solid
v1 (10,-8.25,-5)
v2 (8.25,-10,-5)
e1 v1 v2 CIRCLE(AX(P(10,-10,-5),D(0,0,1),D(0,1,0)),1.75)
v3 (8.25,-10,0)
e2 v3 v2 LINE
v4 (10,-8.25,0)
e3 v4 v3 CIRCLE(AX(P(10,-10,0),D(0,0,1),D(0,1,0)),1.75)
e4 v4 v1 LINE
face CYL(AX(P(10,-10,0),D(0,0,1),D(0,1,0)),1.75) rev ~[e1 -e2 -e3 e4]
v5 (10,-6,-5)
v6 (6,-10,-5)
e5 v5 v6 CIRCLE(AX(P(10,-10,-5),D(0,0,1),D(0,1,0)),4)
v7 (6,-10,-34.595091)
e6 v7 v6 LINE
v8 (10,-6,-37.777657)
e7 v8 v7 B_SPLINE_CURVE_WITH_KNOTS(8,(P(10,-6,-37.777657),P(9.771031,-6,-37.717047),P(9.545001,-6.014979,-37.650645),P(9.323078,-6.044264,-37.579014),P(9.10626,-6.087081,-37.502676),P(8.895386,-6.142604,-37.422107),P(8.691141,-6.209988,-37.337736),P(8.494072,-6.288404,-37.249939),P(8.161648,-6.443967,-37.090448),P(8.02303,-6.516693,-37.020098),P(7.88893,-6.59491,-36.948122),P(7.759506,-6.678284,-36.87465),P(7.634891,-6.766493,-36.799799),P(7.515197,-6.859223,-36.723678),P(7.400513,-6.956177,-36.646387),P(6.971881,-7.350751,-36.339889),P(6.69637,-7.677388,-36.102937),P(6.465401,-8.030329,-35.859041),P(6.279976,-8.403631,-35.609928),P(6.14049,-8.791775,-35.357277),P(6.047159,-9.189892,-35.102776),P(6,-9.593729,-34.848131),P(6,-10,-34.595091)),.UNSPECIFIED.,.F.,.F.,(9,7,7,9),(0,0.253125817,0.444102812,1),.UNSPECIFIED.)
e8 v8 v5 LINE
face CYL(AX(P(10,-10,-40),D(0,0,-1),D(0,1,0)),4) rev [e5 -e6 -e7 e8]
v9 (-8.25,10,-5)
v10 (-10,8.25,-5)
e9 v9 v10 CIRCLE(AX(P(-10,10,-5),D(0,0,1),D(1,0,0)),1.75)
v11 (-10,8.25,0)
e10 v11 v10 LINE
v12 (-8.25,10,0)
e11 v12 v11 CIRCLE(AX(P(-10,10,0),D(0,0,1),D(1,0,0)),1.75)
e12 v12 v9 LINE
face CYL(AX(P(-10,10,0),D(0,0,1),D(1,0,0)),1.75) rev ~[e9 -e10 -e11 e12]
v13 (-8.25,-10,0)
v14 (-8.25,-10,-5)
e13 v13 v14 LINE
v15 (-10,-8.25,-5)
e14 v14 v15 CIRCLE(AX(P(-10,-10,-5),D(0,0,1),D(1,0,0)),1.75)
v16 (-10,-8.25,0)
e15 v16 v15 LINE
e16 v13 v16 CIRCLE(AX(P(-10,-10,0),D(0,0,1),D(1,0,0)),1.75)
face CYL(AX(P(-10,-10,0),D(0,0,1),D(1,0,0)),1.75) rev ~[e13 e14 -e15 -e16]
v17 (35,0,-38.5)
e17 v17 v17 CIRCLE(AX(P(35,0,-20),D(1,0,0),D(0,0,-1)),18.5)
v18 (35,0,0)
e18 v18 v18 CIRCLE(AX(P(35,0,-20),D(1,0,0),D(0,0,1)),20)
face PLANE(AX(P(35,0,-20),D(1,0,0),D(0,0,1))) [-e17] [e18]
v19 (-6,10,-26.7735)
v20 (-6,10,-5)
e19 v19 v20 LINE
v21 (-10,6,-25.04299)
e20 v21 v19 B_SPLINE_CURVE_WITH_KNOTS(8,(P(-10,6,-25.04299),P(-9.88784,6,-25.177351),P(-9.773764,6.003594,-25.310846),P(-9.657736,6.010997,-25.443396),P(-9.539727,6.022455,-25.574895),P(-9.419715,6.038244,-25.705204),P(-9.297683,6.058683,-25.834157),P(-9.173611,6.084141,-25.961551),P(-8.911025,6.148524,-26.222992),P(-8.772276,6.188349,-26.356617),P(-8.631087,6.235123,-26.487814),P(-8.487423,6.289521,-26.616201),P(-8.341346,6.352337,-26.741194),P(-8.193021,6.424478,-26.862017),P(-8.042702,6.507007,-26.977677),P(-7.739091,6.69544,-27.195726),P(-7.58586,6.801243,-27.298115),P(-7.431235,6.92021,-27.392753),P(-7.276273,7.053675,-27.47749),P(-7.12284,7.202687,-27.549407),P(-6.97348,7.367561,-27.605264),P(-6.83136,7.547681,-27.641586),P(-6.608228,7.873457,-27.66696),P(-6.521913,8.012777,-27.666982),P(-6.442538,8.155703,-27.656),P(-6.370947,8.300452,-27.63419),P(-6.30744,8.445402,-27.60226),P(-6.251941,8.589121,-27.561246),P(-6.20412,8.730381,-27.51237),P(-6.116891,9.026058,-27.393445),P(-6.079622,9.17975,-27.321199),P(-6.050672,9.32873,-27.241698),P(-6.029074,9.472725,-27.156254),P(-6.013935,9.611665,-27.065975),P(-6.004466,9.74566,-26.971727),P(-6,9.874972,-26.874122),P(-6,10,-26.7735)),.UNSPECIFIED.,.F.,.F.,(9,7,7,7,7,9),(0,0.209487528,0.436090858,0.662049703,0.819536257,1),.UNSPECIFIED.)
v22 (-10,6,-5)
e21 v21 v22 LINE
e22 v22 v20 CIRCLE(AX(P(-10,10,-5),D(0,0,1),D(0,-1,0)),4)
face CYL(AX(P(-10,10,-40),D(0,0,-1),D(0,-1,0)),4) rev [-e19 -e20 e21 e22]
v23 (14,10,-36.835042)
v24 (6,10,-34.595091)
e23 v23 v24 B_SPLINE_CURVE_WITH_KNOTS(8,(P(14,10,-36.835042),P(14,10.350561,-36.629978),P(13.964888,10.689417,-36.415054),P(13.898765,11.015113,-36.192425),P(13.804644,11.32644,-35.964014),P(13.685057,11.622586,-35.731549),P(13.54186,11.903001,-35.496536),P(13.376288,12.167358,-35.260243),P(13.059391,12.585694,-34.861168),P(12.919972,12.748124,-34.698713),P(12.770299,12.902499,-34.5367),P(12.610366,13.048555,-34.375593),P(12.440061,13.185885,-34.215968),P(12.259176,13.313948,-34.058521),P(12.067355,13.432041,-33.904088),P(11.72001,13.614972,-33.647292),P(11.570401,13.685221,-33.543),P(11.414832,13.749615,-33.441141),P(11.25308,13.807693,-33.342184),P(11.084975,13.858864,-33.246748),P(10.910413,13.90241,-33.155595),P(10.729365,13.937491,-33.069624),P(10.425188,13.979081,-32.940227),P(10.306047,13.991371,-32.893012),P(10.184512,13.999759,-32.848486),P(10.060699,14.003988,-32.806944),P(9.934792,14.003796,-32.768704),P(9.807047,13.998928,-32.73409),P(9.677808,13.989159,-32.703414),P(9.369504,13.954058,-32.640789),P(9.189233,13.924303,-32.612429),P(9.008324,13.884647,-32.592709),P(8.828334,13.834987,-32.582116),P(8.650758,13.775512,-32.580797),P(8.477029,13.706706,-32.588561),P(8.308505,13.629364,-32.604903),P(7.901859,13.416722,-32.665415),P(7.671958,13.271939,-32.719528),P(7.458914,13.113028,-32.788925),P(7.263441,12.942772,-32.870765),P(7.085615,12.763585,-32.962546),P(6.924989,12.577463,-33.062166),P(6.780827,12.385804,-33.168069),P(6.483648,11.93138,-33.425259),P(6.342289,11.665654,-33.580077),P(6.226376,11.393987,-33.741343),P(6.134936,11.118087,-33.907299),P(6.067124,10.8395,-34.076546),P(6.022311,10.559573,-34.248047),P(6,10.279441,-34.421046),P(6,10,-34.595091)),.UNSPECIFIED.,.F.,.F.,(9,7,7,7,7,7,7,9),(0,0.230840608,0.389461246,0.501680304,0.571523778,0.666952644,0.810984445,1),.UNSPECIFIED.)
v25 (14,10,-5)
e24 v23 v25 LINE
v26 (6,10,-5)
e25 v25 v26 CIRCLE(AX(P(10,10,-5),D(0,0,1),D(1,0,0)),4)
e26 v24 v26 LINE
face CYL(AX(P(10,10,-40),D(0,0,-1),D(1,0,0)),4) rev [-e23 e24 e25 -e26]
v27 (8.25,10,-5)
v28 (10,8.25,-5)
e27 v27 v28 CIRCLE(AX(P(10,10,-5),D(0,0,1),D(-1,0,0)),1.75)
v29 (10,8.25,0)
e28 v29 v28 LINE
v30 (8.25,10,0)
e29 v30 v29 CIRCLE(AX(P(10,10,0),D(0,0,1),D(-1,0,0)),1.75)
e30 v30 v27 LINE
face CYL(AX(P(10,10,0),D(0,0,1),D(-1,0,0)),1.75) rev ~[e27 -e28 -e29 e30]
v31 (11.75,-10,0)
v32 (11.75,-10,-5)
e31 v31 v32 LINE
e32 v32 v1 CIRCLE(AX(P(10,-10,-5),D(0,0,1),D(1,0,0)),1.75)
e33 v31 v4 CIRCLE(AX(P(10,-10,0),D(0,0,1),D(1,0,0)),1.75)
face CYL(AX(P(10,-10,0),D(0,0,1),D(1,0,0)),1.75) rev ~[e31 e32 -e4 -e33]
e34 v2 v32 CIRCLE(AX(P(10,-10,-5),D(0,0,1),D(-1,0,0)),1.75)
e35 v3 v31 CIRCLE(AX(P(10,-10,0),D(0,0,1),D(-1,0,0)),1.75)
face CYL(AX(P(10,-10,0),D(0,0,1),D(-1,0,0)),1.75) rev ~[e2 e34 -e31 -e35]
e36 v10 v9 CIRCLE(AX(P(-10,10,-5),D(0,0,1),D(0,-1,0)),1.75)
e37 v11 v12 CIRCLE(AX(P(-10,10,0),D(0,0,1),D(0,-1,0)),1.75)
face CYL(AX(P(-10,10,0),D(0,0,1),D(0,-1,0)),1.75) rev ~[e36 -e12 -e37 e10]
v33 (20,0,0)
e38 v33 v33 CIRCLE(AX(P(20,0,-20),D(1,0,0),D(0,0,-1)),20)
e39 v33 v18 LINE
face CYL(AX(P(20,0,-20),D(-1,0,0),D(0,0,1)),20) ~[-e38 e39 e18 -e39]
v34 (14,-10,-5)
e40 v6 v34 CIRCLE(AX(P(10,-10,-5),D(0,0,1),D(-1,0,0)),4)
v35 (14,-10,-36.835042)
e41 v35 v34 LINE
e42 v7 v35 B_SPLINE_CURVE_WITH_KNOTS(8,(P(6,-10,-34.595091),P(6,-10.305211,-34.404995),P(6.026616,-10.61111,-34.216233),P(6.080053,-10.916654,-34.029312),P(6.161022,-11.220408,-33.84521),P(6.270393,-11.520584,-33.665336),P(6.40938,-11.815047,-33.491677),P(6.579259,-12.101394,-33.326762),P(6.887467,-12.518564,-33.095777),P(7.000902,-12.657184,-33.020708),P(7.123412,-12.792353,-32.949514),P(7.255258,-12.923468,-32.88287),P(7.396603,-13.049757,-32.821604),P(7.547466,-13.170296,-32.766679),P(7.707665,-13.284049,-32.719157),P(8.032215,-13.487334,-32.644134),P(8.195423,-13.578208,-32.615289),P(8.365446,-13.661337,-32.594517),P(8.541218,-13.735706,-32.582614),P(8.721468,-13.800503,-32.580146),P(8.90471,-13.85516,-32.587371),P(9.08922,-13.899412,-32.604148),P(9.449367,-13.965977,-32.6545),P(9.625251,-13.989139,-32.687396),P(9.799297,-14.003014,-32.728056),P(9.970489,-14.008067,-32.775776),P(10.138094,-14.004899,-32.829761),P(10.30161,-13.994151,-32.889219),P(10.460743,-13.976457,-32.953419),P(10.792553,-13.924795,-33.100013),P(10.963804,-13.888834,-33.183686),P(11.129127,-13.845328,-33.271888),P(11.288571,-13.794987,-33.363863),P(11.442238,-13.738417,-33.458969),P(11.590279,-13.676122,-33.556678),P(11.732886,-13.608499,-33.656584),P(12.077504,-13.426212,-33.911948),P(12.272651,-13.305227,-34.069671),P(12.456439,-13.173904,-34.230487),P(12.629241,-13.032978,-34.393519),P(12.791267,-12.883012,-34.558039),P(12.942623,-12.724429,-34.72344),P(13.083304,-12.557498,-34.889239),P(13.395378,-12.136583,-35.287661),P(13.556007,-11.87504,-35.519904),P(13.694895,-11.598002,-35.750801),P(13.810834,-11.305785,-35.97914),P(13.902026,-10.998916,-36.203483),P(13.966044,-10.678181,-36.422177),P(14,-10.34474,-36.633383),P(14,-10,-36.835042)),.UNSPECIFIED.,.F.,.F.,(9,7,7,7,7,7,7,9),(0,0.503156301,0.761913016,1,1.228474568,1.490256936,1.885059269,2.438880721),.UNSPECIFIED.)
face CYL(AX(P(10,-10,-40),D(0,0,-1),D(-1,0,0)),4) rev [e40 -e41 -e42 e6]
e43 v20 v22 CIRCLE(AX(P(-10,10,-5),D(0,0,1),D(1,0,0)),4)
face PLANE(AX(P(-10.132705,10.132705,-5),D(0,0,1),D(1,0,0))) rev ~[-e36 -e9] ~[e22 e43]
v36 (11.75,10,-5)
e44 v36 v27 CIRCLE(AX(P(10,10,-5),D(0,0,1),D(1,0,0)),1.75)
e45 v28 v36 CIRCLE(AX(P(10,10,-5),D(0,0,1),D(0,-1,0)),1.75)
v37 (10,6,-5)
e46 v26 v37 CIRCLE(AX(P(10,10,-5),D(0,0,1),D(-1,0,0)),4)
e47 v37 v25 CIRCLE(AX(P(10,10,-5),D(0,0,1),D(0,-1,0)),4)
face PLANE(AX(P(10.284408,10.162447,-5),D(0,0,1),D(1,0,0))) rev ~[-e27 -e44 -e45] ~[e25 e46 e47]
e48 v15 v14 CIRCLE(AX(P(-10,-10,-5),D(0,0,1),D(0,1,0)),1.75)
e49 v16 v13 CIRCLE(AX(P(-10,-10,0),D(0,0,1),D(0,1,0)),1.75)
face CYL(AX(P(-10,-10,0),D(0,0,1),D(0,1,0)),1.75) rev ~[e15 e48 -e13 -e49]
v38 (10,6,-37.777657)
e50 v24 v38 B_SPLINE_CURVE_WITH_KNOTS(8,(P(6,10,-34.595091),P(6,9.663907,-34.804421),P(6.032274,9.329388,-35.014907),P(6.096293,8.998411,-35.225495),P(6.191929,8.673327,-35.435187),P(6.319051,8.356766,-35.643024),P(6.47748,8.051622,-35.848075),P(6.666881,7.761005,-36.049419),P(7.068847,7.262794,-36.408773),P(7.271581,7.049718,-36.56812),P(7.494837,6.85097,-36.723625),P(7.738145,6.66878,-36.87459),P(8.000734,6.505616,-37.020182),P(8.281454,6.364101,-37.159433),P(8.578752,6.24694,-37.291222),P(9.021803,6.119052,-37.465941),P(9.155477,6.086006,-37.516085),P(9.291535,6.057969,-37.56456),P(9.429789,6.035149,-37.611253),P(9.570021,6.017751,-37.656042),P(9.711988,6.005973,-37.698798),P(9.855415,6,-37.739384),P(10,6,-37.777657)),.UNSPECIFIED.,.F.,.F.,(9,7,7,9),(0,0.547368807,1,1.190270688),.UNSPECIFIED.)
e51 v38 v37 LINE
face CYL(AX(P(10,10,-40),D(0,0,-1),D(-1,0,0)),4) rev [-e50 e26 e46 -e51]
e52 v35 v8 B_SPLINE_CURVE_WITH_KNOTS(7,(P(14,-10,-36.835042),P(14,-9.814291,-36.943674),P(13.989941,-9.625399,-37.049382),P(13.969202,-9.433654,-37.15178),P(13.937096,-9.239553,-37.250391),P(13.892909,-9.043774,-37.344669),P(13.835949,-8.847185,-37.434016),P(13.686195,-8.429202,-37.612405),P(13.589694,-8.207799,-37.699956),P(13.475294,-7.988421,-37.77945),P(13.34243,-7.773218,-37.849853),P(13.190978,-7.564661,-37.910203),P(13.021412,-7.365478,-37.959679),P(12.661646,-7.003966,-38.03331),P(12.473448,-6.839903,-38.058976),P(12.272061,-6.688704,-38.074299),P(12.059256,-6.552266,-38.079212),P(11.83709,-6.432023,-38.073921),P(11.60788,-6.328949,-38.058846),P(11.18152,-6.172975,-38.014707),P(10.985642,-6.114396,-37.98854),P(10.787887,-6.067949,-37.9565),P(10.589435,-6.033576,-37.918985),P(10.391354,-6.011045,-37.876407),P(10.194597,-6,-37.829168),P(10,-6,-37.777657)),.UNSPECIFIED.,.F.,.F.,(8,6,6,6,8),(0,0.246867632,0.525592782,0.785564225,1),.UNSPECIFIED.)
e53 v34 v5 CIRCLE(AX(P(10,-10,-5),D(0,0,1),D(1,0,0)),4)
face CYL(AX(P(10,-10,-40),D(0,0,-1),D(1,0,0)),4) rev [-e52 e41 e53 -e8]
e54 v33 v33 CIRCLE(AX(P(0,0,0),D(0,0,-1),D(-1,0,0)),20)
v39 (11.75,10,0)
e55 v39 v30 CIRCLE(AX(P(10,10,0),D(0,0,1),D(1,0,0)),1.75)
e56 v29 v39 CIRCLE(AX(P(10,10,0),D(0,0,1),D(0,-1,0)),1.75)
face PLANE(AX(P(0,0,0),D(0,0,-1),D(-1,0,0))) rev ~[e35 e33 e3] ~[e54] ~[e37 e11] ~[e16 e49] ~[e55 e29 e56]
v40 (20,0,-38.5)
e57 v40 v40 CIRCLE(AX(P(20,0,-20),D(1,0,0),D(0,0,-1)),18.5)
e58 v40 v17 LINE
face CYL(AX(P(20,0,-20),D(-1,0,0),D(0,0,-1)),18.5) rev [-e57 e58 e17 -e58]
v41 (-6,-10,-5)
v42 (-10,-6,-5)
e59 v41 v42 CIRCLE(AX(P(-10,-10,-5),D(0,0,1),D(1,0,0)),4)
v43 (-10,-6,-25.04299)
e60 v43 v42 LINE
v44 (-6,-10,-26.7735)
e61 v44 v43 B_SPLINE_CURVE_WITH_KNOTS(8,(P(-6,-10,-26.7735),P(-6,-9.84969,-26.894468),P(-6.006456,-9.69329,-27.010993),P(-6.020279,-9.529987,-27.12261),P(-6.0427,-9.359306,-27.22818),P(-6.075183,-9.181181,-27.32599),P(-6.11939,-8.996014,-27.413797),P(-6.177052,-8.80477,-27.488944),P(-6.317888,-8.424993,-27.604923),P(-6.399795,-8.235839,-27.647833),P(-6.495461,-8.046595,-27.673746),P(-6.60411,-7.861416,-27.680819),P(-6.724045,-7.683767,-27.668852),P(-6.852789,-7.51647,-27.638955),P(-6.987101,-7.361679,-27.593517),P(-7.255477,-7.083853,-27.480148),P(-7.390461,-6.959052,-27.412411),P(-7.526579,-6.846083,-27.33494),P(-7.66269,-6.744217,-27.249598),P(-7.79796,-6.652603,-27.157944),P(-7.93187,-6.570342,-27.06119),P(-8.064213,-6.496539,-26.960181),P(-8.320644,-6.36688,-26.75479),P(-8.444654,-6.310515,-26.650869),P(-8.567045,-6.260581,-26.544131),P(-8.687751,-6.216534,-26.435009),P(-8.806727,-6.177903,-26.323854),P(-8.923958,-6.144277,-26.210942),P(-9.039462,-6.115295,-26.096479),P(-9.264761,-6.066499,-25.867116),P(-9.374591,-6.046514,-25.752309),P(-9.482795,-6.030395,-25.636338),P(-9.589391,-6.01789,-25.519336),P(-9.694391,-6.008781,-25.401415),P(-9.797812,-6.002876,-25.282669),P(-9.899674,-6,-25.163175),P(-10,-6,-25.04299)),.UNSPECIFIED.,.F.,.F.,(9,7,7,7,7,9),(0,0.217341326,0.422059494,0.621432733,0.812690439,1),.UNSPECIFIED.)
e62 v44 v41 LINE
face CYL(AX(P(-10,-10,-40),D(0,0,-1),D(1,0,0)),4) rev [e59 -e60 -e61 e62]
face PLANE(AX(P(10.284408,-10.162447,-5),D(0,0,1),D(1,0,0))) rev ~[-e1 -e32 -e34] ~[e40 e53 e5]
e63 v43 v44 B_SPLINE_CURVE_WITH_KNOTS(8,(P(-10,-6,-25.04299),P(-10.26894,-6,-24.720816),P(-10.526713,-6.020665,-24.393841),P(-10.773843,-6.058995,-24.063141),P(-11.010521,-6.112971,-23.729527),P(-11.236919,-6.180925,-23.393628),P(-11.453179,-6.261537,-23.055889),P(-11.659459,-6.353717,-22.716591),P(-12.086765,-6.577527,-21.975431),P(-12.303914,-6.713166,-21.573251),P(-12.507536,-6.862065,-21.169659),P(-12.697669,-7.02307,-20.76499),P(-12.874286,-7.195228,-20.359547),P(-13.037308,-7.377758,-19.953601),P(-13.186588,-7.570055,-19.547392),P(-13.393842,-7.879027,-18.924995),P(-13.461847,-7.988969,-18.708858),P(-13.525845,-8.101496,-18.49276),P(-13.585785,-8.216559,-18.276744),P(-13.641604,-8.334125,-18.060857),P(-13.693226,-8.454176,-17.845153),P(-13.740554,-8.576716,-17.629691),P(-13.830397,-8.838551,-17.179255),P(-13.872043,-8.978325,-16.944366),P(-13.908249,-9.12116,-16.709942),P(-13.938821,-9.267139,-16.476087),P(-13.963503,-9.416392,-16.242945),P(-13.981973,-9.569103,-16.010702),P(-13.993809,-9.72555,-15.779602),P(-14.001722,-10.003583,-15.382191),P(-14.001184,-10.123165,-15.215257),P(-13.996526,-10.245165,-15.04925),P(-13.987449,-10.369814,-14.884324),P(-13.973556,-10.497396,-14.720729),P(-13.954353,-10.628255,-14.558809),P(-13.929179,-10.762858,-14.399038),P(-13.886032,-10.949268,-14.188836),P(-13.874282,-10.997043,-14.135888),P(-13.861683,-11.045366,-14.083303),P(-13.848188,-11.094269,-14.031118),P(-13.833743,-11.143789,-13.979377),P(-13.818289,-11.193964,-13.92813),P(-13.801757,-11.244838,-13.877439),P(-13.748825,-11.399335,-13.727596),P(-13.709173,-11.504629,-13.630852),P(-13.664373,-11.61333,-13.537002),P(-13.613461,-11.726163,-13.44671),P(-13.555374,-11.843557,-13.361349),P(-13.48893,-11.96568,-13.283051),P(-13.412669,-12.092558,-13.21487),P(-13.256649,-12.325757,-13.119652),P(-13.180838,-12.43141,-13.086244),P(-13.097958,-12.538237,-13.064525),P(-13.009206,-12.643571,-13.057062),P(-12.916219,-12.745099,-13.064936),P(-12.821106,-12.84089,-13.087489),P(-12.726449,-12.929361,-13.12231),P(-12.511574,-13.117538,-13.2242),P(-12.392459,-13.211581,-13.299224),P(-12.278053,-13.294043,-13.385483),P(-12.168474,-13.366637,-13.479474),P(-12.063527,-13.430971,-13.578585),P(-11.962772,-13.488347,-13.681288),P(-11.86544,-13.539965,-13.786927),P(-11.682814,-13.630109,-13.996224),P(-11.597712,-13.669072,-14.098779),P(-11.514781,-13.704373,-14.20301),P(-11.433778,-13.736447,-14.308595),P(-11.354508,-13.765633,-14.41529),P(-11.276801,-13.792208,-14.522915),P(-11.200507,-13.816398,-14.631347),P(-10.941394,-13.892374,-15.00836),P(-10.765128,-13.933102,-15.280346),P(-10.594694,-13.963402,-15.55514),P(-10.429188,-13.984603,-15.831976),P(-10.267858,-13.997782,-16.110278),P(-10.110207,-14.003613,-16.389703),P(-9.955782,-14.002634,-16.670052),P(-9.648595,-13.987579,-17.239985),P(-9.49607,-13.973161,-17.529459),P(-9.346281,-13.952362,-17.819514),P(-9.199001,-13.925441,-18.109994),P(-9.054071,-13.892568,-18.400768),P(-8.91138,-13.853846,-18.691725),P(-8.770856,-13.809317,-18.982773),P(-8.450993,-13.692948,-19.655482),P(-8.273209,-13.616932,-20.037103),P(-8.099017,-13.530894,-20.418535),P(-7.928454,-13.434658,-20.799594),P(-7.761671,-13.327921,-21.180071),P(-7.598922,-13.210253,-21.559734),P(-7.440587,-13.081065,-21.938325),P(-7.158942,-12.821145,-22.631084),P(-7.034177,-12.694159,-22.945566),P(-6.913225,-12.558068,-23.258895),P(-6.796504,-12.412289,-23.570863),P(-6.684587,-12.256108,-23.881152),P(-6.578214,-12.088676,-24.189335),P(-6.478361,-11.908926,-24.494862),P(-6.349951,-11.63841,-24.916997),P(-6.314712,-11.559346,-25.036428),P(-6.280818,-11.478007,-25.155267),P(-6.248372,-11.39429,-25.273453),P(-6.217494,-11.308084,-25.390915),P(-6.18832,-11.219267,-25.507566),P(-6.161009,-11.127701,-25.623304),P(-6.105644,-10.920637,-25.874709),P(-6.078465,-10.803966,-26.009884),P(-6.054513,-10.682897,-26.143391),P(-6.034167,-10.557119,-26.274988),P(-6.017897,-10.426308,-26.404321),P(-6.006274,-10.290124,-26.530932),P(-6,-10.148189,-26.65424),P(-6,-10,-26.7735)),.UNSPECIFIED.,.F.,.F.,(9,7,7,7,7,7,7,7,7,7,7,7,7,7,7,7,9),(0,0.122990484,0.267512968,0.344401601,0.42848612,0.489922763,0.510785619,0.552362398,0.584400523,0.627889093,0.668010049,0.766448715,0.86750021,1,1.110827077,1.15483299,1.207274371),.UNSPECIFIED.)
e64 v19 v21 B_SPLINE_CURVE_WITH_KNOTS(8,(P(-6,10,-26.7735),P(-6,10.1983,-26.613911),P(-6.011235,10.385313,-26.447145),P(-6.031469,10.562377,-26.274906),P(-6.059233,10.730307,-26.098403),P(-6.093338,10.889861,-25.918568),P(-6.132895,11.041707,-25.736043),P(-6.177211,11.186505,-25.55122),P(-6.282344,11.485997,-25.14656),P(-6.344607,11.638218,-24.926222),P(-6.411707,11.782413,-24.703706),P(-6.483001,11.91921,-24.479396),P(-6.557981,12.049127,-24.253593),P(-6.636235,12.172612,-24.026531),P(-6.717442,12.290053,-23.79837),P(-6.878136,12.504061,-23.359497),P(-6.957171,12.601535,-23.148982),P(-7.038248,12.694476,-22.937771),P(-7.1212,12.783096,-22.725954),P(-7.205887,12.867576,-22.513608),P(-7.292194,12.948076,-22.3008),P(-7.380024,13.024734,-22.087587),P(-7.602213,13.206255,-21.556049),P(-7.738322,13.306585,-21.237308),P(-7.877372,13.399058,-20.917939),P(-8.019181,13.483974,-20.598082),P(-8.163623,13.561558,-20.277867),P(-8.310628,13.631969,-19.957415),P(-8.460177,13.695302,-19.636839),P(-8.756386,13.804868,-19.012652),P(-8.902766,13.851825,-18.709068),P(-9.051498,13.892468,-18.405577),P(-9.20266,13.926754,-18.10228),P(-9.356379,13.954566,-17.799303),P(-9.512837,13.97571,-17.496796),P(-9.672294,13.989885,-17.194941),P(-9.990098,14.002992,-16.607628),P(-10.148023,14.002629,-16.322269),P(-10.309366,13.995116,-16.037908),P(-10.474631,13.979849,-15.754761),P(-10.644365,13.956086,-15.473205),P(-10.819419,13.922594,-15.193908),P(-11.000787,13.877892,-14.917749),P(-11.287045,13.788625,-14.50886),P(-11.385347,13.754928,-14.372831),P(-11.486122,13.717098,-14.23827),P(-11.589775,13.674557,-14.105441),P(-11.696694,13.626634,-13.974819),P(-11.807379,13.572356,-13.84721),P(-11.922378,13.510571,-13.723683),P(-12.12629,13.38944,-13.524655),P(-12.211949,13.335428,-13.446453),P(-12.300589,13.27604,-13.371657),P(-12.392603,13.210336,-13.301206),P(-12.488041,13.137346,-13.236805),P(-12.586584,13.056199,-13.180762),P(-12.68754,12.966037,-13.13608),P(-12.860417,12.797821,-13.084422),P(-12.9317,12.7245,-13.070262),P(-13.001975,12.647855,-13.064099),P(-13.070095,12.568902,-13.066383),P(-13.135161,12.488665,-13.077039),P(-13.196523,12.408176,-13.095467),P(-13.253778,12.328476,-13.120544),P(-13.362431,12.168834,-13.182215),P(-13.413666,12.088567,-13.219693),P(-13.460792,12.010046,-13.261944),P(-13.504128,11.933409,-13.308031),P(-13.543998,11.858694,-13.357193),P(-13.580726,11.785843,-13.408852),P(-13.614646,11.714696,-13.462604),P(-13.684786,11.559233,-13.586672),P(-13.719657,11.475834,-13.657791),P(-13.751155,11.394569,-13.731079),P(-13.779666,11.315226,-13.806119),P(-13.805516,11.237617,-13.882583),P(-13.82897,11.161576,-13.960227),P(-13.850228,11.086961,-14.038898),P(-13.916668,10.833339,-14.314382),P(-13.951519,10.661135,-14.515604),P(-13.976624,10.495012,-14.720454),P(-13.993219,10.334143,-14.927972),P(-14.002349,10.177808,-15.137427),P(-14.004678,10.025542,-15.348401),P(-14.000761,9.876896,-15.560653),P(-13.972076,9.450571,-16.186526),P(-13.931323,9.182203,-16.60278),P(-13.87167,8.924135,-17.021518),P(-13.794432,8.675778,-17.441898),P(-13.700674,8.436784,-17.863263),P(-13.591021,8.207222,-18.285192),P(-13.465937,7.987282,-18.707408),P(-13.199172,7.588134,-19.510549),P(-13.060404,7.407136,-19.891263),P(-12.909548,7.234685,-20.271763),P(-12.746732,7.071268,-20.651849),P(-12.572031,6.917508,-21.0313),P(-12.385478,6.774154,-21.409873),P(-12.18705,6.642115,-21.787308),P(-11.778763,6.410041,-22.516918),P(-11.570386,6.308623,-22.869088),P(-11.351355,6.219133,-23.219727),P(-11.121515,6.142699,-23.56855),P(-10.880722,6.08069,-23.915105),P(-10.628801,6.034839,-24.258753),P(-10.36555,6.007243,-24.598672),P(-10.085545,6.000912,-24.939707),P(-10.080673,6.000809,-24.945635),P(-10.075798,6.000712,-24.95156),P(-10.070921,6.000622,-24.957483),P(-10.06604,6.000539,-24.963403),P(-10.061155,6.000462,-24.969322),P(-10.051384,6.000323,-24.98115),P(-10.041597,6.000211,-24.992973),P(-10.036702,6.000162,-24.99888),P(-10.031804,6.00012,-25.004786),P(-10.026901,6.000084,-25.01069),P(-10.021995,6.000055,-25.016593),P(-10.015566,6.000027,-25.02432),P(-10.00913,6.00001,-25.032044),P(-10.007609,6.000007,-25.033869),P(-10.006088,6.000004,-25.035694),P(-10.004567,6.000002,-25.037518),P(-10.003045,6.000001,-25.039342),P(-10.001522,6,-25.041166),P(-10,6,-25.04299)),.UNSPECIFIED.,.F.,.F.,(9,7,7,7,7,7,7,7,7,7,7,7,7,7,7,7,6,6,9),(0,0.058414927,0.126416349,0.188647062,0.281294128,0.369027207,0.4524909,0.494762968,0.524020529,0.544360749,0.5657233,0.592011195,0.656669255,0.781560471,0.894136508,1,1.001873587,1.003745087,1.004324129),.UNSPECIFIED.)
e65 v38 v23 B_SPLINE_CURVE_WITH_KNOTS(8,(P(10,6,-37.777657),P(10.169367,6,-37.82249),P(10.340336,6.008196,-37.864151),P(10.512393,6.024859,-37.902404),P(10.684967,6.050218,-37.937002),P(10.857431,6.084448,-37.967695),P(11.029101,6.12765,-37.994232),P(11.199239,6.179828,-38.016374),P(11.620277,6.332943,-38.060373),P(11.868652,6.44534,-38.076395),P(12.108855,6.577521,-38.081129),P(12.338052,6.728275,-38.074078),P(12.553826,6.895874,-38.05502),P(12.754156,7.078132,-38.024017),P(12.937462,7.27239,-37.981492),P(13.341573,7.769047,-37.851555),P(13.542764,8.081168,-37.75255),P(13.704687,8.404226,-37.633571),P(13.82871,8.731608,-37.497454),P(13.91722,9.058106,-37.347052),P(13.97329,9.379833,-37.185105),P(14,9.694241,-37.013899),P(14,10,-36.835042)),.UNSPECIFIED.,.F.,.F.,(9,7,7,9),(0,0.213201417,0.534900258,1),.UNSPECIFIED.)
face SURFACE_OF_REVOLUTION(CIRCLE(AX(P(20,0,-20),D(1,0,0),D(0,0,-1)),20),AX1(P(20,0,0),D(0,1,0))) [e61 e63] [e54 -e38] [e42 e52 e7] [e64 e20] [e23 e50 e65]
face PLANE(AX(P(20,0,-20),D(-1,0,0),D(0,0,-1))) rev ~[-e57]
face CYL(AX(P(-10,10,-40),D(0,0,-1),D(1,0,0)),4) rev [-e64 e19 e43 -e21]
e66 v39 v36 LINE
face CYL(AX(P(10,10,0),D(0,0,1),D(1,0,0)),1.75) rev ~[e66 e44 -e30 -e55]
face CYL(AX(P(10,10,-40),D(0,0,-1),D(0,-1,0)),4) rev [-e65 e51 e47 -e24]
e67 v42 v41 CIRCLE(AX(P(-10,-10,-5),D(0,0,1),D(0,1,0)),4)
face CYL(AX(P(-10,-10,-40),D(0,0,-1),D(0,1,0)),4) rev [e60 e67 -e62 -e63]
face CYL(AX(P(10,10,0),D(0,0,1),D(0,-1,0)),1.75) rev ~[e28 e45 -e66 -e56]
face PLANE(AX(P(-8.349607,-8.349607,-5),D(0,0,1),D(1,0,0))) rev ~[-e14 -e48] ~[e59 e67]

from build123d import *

# Parameters (mm, degrees)
SKETCH_1_R          = 20
SKETCH_3_R          = 20
SKETCH_3_R_2        = 18.5
EXTRUDE_1_DEPTH     = 15
CUT_EXTRUDE_1_DEPTH = 57.789083564
CUT_EXTRUDE_2_DEPTH = 35


with BuildPart() as part:
    # 扫描1: sweep along a path in 草图2
    with BuildLine(Plane(origin=(0, 0, 0), x_dir=(1, 0, 0), z_dir=(0, 1, 0))) as sweep_1_path:
        ThreePointArc((20, 20), (5.857864376, 14.142135624), (0, 0))
    # 草图1 → 扫描1 (sweep)
    with BuildSketch(Plane.XY):
        Circle(SKETCH_1_R)
    sweep(path=sweep_1_path.line)

    # 草图3 → 凸台-拉伸1 (add)
    with BuildSketch(Plane(origin=(20, 0, 0), x_dir=(0, 0, -1), z_dir=(1, 0, 0))):
        with Locations(Location((20, 0, 0), (0, 0, 180))):
            Circle(SKETCH_3_R)
        with Locations((20, 0)):
            Circle(SKETCH_3_R_2, mode=Mode.SUBTRACT)
    extrude(amount=EXTRUDE_1_DEPTH)

    # 草图4 → 切除-拉伸1 (cut, through all)
    with BuildSketch(Plane.XY):
        with BuildLine():
            Line((-10, 8.25), (-10, 10))
            Line((-10, 10), (-8.25, 10))
            ThreePointArc((-8.25, 10), (-11.237436867, 11.237436867), (-10, 8.25))
        make_face()
        with BuildLine():
            Line((-8.25, 10), (-10, 10))
            Line((-10, 10), (-10, 8.25))
            ThreePointArc((-10, 8.25), (-8.762563133, 8.762563133), (-8.25, 10))
        make_face()
        with BuildLine():
            ThreePointArc((11.75, 10), (10, 11.75), (8.25, 10))
            Line((8.25, 10), (10, 10))
            Line((10, 10), (10, 8.25))
            ThreePointArc((10, 8.25), (11.237436867, 8.762563133), (11.75, 10))
        make_face()
        with BuildLine():
            Line((10, 10), (8.25, 10))
            ThreePointArc((8.25, 10), (8.762563133, 8.762563133), (10, 8.25))
            Line((10, 8.25), (10, 10))
        make_face()
        with BuildLine():
            ThreePointArc((11.75, -10), (11.237436867, -8.762563133), (10, -8.25))
            Line((10, -8.25), (10, -10))
            Line((10, -10), (8.25, -10))
            ThreePointArc((8.25, -10), (10, -11.75), (11.75, -10))
        make_face()
        with BuildLine():
            Line((10, -10), (10, -8.25))
            ThreePointArc((10, -8.25), (8.762563133, -8.762563133), (8.25, -10))
            Line((8.25, -10), (10, -10))
        make_face()
        with BuildLine():
            ThreePointArc((-8.25, -10), (-8.762563133, -8.762563133), (-10, -8.25))
            Line((-10, -8.25), (-10, -10))
            Line((-10, -10), (-8.25, -10))
        make_face()
        with BuildLine():
            Line((-10, -10), (-10, -8.25))
            ThreePointArc((-10, -8.25), (-11.237436867, -11.237436867), (-8.25, -10))
            Line((-8.25, -10), (-10, -10))
        make_face()
    extrude(amount=-CUT_EXTRUDE_1_DEPTH, mode=Mode.SUBTRACT)

    # 草图5 → 切除-拉伸2 (cut)
    with BuildSketch(Plane.XY.offset(-40)):
        with BuildLine():
            ThreePointArc((14, 10), (10, 14), (6, 10))
            Line((6, 10), (10, 10))
            Line((10, 10), (10, 6))
            ThreePointArc((10, 6), (12.828427125, 7.171572875), (14, 10))
        make_face()
        with BuildLine():
            Line((10, 10), (6, 10))
            ThreePointArc((6, 10), (7.171572875, 7.171572875), (10, 6))
            Line((10, 6), (10, 10))
        make_face()
        with BuildLine():
            Line((-10, 6), (-10, 10))
            Line((-10, 10), (-6, 10))
            ThreePointArc((-6, 10), (-12.828427125, 12.828427125), (-10, 6))
        make_face()
        with BuildLine():
            Line((-6, 10), (-10, 10))
            Line((-10, 10), (-10, 6))
            ThreePointArc((-10, 6), (-7.171572875, 7.171572875), (-6, 10))
        make_face()
        with BuildLine():
            ThreePointArc((14, -10), (12.828427125, -7.171572875), (10, -6))
            Line((10, -6), (10, -10))
            Line((10, -10), (6, -10))
            ThreePointArc((6, -10), (10, -14), (14, -10))
        make_face()
        with BuildLine():
            Line((10, -10), (10, -6))
            ThreePointArc((10, -6), (7.171572875, -7.171572875), (6, -10))
            Line((6, -10), (10, -10))
        make_face()
        with BuildLine():
            ThreePointArc((-6, -10), (-7.171572875, -7.171572875), (-10, -6))
            Line((-10, -6), (-10, -10))
            Line((-10, -10), (-6, -10))
        make_face()
        with BuildLine():
            Line((-10, -10), (-10, -6))
            ThreePointArc((-10, -6), (-12.828427125, -12.828427125), (-6, -10))
            Line((-6, -10), (-10, -10))
        make_face()
    extrude(amount=CUT_EXTRUDE_2_DEPTH, mode=Mode.SUBTRACT)


solid = part.part
